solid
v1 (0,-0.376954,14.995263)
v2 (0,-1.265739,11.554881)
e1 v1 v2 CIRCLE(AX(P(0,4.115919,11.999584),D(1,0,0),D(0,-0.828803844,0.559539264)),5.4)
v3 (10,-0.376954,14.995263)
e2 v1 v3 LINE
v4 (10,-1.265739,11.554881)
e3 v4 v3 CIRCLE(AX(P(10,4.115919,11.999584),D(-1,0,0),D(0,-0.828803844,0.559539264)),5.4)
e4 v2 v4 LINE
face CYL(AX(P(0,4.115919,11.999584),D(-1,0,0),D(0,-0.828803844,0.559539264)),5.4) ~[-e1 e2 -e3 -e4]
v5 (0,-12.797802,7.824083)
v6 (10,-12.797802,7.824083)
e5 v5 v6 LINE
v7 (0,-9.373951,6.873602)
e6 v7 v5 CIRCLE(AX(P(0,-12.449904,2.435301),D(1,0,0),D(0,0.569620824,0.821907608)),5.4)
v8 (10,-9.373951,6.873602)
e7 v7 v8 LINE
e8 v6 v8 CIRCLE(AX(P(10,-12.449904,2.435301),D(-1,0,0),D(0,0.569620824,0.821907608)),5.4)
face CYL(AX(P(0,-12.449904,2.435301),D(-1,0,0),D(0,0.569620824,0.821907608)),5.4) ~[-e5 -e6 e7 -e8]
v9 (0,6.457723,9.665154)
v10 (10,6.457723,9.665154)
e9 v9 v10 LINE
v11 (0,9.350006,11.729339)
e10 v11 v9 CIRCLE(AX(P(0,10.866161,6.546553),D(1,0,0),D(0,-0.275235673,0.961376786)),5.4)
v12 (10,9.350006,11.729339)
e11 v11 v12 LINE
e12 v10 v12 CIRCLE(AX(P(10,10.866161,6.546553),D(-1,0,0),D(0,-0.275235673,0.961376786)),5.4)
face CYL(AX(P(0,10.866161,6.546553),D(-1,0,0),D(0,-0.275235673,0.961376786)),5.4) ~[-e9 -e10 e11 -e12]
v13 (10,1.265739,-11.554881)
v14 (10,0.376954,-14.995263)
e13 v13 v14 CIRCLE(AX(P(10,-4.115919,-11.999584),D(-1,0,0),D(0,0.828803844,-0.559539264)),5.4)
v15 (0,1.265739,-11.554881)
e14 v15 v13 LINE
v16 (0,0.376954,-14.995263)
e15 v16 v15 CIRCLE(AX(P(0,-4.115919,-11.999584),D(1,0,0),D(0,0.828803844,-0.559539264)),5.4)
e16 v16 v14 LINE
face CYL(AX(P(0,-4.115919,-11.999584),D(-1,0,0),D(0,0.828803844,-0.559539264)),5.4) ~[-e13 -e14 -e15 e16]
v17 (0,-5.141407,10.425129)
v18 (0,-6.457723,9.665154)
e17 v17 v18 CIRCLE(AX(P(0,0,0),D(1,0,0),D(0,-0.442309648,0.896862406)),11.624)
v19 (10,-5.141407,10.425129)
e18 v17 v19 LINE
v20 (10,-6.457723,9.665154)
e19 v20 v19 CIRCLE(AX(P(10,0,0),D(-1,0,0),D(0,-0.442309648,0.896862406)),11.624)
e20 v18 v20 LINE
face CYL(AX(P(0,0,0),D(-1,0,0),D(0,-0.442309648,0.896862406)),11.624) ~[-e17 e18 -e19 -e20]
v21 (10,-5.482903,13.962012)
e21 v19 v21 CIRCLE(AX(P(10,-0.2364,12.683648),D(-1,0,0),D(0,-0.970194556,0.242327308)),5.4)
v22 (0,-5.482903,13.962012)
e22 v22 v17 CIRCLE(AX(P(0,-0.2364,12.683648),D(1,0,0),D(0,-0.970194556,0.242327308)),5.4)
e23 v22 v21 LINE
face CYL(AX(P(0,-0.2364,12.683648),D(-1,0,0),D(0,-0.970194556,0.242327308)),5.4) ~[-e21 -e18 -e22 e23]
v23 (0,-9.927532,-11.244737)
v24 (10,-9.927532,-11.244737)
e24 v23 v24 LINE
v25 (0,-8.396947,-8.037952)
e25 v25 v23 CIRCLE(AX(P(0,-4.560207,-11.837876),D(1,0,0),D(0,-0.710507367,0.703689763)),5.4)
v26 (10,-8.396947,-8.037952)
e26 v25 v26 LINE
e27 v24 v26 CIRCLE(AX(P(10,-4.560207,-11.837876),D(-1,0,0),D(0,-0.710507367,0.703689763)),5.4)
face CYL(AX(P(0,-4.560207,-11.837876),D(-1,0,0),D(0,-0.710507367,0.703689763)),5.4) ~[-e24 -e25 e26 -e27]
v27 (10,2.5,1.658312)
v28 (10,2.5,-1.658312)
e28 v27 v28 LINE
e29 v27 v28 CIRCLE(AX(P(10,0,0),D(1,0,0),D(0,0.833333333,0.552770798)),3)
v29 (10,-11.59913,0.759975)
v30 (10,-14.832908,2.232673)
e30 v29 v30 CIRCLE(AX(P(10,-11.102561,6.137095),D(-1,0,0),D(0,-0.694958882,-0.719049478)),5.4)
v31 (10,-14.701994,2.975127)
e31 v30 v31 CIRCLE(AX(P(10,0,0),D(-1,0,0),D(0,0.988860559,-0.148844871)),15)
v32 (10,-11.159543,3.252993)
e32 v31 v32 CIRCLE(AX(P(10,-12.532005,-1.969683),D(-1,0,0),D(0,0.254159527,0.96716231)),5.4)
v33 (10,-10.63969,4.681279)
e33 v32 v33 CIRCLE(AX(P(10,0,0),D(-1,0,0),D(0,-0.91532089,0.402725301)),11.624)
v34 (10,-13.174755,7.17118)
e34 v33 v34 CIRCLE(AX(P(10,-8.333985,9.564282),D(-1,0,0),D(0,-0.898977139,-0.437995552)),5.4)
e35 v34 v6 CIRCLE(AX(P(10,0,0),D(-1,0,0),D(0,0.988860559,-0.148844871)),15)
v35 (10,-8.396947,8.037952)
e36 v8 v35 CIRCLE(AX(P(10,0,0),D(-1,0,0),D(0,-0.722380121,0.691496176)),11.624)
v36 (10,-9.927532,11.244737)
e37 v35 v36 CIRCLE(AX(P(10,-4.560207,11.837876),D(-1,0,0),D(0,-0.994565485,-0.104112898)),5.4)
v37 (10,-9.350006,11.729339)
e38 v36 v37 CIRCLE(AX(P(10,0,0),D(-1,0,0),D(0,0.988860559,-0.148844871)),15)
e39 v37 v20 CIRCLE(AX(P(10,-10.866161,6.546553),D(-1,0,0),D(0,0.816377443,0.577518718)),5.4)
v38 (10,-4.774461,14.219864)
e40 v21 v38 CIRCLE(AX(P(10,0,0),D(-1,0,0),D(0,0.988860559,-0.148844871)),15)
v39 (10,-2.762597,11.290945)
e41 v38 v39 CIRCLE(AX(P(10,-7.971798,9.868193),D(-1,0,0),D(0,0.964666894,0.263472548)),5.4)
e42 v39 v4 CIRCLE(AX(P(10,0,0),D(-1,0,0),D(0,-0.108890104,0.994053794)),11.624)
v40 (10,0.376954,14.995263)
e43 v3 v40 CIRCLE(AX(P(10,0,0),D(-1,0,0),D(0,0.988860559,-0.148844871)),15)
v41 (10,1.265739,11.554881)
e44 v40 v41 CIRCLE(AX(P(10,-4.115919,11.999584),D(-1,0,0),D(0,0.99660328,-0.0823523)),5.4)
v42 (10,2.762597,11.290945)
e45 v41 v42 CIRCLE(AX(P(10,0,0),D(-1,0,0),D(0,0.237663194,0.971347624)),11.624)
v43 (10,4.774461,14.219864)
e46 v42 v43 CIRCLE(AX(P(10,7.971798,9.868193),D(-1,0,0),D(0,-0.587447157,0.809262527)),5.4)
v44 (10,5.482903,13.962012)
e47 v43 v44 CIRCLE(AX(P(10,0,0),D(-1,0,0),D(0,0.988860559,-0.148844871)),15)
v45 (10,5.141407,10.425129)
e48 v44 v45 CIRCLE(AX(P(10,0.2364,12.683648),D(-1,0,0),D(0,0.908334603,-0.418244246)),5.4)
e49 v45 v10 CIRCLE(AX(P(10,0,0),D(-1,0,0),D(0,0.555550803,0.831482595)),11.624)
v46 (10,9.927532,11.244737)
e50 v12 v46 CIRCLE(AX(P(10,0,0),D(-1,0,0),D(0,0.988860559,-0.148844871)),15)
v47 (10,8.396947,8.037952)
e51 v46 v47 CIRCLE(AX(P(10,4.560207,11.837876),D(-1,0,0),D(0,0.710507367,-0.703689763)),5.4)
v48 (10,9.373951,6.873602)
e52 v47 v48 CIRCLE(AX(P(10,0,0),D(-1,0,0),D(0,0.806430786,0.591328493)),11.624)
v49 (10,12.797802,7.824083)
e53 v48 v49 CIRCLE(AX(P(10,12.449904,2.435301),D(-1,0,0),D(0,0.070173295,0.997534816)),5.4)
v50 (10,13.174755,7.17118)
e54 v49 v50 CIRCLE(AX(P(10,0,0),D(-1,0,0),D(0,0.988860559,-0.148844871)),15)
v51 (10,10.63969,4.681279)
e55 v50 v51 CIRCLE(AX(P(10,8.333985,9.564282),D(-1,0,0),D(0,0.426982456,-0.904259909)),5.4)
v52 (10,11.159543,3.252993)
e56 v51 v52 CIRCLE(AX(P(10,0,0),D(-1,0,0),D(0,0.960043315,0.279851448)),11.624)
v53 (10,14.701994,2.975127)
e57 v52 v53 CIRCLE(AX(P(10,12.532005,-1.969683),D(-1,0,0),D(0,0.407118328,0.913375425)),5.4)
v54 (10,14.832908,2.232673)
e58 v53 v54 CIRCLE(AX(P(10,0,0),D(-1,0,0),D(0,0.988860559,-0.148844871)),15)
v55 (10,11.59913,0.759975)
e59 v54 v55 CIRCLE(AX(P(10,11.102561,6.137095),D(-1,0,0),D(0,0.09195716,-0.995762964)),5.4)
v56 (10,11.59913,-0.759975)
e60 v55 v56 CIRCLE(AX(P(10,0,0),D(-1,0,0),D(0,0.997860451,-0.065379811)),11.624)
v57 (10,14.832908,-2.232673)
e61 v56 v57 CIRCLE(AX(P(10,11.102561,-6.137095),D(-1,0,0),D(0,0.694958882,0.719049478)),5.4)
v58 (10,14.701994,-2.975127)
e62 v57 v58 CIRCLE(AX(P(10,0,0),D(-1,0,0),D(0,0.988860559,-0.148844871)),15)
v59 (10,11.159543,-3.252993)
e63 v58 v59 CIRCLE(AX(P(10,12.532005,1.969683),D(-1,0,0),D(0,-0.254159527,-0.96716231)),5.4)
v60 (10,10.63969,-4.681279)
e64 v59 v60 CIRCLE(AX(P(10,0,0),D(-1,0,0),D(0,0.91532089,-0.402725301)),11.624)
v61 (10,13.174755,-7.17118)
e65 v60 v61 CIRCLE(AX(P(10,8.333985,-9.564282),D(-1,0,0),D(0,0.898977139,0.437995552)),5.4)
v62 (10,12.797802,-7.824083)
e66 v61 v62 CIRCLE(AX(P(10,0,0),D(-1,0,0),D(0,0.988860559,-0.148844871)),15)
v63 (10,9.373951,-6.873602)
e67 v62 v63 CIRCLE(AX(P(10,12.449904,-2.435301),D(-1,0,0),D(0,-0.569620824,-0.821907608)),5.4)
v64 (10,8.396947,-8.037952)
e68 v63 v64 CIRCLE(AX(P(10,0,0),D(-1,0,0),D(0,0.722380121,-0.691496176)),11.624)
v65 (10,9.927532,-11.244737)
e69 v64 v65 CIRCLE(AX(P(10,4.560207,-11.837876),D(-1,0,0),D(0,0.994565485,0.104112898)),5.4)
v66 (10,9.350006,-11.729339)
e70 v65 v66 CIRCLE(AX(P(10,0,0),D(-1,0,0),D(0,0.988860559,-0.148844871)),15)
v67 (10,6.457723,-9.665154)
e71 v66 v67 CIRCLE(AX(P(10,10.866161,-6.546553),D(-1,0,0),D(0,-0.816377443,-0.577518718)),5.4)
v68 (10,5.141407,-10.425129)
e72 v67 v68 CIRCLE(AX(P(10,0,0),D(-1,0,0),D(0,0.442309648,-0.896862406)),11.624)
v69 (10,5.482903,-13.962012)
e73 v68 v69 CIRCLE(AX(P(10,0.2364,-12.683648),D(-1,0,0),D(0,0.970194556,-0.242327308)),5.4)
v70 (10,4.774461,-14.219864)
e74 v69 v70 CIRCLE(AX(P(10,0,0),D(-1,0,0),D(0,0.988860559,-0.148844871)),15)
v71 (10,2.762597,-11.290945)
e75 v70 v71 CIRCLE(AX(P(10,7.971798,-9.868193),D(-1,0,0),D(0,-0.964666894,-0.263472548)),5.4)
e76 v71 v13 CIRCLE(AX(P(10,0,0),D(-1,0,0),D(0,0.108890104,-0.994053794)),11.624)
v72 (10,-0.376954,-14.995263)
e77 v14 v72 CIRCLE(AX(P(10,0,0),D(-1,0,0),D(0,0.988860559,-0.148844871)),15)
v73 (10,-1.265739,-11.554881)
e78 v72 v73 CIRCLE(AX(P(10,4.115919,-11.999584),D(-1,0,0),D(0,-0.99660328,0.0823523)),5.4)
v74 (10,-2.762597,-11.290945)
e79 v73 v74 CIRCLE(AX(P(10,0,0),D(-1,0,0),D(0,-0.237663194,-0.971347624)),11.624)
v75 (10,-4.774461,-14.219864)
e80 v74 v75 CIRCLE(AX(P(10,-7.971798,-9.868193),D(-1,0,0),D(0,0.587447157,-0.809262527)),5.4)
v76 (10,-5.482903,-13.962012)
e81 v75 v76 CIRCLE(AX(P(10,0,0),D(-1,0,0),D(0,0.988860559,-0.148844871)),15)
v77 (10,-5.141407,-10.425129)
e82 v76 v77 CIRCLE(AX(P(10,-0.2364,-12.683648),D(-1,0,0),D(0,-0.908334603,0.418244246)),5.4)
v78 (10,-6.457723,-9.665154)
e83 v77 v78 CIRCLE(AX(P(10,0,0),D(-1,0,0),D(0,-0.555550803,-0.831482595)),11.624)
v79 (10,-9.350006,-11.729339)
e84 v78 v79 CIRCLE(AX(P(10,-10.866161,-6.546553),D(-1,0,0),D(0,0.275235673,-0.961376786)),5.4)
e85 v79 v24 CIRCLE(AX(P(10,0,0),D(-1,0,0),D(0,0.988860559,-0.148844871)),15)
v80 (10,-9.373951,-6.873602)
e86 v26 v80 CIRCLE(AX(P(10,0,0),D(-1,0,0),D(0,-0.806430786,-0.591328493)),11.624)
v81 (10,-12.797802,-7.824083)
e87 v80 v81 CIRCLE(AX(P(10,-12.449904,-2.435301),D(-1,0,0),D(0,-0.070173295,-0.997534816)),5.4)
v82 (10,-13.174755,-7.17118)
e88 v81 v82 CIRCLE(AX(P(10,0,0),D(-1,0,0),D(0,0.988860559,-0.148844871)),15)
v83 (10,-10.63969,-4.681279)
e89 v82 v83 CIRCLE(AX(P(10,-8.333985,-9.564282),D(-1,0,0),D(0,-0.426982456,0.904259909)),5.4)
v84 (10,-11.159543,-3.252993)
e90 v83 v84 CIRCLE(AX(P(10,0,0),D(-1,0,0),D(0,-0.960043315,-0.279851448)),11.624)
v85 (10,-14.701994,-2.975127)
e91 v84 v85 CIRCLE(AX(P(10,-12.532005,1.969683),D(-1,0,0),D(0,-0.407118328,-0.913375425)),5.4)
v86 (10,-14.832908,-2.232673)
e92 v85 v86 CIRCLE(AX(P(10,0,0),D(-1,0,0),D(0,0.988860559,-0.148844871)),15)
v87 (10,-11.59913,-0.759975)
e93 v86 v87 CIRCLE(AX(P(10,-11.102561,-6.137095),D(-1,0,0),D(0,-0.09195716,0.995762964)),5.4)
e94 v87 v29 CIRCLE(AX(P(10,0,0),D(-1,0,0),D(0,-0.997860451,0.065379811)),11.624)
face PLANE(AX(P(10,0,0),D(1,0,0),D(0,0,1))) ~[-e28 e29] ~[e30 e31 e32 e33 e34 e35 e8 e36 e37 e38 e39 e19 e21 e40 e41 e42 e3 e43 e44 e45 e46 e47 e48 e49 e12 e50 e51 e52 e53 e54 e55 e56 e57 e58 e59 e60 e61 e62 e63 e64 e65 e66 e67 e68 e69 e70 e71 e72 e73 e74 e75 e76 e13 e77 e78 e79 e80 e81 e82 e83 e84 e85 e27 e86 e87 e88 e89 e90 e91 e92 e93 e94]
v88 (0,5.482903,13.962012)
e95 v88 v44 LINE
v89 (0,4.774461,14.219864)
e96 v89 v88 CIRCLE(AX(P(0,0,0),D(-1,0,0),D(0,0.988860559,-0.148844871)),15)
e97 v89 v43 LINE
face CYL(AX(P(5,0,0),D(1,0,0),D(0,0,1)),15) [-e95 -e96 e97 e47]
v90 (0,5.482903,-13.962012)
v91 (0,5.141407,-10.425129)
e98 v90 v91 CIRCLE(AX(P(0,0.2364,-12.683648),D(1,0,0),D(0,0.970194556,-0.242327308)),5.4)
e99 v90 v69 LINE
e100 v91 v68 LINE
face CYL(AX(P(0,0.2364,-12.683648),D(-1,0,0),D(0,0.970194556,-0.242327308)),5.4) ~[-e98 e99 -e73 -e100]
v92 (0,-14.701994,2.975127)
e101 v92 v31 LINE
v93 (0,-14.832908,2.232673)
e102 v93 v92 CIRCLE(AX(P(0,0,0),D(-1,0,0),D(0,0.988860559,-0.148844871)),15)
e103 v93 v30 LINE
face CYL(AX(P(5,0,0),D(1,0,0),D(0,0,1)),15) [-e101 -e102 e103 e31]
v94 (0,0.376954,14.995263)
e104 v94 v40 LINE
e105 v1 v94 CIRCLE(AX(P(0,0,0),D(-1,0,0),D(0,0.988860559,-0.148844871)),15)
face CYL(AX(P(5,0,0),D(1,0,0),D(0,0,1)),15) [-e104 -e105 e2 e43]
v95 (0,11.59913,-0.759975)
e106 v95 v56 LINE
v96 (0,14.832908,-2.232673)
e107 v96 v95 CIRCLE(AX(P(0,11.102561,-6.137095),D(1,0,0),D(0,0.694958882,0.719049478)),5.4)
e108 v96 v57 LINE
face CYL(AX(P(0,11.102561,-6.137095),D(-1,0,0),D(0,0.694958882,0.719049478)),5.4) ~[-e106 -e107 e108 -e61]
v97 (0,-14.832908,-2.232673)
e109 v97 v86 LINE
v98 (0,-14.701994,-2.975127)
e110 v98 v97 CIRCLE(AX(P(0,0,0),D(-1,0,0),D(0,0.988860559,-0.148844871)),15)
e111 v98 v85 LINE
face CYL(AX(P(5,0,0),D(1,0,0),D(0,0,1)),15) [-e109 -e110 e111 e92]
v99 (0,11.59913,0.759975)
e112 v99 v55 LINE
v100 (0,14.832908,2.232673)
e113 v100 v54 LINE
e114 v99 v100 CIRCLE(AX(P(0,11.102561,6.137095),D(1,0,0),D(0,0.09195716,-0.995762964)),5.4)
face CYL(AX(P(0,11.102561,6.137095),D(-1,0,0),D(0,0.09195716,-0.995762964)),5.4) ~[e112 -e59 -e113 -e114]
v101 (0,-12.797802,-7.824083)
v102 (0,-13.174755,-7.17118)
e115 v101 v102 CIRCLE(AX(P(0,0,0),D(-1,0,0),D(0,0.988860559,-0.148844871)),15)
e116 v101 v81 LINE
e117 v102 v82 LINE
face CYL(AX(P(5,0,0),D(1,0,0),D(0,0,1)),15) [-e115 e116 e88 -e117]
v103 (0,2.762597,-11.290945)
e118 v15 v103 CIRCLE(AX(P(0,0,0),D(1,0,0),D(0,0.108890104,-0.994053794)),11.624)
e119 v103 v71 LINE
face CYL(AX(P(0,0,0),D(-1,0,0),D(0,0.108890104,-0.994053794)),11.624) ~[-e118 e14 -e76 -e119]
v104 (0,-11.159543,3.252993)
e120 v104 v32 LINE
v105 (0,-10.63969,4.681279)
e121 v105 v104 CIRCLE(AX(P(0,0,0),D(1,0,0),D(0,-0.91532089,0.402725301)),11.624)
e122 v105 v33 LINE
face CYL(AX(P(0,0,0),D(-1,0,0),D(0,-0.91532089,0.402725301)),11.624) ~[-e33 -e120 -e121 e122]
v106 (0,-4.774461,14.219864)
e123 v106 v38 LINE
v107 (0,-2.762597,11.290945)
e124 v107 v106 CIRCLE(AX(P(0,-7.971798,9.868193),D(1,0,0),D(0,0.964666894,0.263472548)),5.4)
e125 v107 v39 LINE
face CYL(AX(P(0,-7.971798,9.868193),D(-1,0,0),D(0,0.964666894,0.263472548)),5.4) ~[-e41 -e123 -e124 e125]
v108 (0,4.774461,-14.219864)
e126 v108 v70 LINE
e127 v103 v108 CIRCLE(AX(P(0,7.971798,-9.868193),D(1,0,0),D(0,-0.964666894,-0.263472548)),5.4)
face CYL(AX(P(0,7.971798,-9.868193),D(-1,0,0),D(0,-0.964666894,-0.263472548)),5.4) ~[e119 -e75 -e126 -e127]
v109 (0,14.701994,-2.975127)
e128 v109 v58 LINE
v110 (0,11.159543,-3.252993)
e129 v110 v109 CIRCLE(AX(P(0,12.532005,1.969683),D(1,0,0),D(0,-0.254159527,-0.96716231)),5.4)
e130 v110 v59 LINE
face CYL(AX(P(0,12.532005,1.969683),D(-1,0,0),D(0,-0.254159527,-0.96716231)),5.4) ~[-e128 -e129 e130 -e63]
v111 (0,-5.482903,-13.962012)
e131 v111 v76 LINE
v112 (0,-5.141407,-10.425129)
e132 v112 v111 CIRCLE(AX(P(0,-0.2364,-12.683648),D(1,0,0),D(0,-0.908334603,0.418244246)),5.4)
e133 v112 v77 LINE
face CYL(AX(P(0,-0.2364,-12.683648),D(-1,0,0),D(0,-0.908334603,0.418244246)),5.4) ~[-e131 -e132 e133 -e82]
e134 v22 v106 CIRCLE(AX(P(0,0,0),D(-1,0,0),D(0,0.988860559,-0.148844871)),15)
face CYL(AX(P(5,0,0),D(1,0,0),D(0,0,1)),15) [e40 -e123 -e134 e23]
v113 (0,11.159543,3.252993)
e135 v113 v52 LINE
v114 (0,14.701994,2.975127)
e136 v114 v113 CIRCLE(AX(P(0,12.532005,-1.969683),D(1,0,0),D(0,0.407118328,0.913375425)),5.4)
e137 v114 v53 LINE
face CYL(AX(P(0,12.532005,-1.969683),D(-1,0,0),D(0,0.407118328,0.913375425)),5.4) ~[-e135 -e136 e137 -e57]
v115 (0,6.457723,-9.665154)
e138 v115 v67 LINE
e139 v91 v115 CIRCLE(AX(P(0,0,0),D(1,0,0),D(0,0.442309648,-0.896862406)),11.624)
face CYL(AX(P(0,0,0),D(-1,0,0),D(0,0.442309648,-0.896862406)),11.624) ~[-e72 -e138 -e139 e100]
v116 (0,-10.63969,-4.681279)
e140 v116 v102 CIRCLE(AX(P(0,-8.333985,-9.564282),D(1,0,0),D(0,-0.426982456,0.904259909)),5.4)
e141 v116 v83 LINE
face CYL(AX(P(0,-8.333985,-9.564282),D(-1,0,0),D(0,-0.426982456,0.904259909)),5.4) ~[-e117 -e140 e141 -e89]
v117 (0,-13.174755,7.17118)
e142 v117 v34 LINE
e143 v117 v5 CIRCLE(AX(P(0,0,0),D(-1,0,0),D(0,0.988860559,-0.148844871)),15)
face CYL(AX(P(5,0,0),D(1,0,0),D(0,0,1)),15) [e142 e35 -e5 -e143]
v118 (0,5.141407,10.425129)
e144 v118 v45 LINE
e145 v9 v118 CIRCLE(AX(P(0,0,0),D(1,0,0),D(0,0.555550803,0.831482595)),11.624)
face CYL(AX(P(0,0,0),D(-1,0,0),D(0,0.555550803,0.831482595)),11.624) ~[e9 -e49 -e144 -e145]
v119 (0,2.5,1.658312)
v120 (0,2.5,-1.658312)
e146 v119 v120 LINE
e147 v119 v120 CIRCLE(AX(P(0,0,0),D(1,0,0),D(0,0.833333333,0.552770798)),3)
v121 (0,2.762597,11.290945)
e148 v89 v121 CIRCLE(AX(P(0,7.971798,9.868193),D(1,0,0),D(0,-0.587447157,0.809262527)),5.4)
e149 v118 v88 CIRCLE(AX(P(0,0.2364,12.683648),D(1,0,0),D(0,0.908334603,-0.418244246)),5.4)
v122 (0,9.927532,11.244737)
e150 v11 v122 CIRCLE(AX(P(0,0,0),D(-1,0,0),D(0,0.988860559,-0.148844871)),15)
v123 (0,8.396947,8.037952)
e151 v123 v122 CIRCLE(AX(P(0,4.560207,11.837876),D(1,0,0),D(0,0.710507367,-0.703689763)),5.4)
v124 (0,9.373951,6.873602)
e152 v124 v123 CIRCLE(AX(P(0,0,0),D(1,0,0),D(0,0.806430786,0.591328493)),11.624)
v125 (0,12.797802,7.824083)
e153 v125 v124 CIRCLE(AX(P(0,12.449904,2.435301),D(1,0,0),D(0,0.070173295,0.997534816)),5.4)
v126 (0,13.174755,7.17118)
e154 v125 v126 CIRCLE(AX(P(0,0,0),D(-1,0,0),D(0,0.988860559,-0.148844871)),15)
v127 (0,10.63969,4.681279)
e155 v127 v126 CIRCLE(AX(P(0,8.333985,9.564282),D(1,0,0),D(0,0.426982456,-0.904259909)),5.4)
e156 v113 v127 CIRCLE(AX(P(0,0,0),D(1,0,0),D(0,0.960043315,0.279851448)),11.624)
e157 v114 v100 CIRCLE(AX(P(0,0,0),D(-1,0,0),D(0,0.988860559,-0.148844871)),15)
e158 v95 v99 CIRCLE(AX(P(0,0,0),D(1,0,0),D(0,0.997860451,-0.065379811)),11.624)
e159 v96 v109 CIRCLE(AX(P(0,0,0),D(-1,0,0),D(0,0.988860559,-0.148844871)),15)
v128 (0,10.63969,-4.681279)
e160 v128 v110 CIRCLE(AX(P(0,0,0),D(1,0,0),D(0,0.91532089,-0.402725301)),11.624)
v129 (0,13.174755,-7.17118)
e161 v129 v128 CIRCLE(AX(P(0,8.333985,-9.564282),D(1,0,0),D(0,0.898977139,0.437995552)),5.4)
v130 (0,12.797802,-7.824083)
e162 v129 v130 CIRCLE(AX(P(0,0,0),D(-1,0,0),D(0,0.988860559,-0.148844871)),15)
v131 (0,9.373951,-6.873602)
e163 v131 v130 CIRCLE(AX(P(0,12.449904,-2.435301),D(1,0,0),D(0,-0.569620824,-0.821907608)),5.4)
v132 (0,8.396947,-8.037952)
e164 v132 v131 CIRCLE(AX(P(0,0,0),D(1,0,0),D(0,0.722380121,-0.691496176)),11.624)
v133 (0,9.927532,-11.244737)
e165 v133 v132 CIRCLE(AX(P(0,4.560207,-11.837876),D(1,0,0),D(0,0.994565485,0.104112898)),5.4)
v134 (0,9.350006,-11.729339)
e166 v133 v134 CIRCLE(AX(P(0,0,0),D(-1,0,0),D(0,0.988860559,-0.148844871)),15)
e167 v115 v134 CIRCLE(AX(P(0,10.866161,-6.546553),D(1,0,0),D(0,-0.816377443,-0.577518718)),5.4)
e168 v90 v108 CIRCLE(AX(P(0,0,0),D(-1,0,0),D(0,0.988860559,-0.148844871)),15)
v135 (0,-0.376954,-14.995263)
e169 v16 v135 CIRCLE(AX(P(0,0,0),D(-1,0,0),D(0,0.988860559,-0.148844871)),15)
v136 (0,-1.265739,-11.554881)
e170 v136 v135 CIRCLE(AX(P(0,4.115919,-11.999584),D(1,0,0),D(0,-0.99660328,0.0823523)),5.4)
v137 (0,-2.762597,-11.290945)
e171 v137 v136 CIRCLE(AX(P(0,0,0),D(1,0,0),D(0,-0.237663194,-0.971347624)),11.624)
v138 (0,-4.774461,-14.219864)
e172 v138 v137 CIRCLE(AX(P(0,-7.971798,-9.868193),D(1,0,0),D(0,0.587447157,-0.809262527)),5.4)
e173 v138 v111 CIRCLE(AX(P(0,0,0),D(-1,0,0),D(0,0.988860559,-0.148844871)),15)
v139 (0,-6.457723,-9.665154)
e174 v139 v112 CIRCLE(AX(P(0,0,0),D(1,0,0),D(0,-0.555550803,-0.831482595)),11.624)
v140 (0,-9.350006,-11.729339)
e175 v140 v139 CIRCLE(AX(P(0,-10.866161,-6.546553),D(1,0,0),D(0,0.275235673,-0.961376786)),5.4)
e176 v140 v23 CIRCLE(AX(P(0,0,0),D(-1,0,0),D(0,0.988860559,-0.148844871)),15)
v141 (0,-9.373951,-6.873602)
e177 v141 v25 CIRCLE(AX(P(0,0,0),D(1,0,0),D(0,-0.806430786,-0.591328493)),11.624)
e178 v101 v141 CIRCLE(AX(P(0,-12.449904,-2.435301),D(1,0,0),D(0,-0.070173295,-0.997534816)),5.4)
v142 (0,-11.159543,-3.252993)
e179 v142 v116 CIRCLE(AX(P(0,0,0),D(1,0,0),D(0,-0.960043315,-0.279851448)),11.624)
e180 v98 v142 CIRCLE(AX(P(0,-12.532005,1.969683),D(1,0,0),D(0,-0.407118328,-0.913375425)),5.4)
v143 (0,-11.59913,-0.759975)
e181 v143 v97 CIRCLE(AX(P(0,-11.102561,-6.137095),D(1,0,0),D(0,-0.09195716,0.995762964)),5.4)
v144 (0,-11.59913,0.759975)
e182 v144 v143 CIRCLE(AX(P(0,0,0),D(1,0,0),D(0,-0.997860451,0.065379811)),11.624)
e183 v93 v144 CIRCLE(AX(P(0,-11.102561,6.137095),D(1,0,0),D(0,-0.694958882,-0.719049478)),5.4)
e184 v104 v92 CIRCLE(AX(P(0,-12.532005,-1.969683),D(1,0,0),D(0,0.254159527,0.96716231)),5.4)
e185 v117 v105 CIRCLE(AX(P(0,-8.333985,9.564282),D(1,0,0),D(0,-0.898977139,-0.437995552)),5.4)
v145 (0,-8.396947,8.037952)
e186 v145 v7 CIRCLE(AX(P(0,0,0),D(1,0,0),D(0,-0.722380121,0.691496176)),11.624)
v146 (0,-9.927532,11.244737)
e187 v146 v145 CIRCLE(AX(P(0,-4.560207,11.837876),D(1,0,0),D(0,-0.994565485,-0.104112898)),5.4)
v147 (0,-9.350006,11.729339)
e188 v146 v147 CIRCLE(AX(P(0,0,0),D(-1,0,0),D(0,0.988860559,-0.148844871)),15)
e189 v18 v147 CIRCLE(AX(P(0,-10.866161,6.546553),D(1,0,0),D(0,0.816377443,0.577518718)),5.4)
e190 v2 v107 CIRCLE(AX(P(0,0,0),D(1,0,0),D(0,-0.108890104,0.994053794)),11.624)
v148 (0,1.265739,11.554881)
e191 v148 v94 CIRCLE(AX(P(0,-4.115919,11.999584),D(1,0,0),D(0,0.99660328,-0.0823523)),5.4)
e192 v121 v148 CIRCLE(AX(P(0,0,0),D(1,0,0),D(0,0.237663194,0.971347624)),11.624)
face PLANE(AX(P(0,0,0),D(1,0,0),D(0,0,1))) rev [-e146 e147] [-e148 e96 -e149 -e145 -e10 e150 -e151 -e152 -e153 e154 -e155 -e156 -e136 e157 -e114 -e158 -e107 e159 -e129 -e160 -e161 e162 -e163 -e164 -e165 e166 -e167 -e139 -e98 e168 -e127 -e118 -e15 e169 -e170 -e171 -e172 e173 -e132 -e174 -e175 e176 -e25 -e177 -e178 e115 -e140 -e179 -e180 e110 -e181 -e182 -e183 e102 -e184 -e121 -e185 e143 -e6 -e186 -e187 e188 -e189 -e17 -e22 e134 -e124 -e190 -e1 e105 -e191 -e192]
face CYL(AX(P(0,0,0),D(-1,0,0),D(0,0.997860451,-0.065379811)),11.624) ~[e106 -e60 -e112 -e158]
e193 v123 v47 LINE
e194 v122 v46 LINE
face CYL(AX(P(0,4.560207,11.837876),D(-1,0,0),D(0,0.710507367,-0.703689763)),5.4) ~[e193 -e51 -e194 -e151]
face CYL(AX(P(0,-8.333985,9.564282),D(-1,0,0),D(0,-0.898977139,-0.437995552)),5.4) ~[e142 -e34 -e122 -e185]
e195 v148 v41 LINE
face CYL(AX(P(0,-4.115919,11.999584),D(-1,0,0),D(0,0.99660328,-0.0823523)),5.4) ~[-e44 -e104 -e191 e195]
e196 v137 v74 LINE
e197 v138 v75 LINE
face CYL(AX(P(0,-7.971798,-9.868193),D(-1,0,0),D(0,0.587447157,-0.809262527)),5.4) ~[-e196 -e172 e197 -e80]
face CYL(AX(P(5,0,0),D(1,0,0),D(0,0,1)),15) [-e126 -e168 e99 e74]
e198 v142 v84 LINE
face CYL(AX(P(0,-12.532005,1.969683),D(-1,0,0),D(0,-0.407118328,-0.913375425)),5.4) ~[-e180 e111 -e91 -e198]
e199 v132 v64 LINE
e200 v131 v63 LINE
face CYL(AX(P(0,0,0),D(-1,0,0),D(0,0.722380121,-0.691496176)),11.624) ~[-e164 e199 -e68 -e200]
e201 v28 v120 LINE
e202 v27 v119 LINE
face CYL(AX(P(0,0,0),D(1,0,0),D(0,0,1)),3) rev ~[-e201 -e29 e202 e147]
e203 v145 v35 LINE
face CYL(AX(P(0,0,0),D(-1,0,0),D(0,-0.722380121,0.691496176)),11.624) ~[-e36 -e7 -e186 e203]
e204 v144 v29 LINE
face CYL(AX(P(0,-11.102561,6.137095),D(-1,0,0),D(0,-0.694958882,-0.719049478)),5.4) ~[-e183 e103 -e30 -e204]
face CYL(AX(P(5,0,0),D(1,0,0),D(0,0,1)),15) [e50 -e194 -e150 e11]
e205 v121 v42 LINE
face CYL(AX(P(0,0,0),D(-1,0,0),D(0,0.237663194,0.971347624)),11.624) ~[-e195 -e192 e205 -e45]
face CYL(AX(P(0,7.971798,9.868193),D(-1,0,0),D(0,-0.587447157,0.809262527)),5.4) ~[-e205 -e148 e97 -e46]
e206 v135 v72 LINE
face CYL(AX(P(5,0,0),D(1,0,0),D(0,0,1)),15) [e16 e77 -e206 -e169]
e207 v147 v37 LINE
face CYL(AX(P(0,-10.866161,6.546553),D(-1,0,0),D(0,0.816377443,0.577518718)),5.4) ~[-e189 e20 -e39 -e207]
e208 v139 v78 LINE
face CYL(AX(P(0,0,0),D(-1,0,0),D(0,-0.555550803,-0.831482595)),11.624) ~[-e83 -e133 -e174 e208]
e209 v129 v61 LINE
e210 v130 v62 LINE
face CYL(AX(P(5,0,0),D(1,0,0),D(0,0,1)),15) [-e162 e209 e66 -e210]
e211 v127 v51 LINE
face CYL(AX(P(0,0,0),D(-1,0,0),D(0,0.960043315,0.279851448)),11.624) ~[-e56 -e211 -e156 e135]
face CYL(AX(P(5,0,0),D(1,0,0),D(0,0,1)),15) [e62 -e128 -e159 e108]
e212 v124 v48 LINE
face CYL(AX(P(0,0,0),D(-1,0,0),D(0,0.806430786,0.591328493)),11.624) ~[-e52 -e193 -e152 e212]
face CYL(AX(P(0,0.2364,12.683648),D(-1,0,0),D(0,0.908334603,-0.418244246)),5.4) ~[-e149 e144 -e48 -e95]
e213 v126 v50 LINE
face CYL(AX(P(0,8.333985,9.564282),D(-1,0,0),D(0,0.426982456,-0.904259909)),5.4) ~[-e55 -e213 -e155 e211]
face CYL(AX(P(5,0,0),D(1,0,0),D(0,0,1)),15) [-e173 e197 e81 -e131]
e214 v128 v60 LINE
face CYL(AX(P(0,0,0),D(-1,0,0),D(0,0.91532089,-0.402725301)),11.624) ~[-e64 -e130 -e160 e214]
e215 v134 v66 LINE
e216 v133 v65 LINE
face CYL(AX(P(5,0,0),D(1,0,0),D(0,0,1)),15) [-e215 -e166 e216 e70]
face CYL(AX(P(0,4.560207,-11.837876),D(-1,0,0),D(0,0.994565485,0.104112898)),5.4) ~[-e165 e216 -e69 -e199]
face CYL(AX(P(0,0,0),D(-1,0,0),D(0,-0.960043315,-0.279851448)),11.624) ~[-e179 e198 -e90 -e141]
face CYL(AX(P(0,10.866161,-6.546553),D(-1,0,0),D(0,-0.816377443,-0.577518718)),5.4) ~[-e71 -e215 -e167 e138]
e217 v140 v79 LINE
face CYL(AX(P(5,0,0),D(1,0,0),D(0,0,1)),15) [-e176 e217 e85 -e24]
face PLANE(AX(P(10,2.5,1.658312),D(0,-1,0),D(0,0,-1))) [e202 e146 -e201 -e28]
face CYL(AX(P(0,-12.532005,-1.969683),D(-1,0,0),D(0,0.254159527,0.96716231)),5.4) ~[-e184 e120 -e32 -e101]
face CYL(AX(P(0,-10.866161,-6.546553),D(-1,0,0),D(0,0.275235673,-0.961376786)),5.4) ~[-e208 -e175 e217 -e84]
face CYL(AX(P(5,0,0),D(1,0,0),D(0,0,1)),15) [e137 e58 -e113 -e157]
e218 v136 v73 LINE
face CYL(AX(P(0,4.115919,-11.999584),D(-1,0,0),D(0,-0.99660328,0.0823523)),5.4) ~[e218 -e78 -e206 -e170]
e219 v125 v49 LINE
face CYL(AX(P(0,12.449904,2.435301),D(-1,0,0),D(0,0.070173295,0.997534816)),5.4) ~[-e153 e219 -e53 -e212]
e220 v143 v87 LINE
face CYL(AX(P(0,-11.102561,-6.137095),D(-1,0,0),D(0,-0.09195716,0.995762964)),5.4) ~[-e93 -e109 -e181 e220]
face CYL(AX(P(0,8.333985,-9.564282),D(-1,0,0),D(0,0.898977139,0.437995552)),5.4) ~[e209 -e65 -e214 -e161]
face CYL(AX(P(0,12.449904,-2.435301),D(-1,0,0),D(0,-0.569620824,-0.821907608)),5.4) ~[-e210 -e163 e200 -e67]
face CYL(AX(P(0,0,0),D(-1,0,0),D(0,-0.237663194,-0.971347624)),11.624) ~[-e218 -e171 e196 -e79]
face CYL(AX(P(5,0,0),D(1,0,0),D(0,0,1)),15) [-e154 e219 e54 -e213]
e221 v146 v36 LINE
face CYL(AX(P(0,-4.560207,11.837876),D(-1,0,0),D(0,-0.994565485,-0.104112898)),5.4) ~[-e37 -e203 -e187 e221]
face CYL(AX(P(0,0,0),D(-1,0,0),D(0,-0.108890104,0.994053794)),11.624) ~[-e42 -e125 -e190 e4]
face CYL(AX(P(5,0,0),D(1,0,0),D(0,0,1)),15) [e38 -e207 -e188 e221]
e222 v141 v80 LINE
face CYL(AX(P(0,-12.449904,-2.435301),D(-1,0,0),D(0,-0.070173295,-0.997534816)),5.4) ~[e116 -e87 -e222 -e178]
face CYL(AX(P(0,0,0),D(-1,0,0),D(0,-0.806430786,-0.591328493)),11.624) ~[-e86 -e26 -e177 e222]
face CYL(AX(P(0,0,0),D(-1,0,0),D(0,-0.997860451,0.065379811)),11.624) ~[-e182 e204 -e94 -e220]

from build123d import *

# Parameters (mm, degrees)
BASPROSKE_W         = 10
BASPROSKE_H         = 15
TOOTHCUT_DEPTH      = 24.452078799
TEETHCUTS_COUNT     = 18
TEETHCUTS_ANGLE     = 340
BORSKE_R            = 3
BORE_DEPTH          = 50.0000508
BOSS_EXTRUDE1_DEPTH = 10


with BuildPart() as part:
    # BasProSke → Base-Revolve (revolve)
    with BuildSketch(Plane(origin=(0, 0, 0), x_dir=(1, 0, 0), z_dir=(0, 1, 0)), mode=Mode.PRIVATE) as base_revolve_sk:
        with Locations((5, 7.5)):
            Rectangle(BASPROSKE_W, BASPROSKE_H)
    revolve(base_revolve_sk.sketch.rotate(Axis((-10, 0, 0), (1, 0, 0)), 180), axis=Axis((-10, 0, 0), (1, 0, 0)))

    # TooCutSke → ToothCut (cut, through all)
    with BuildSketch(Plane(origin=(0, 0, 0), x_dir=(0, 0, -1), z_dir=(1, 0, 0))):
        with BuildLine():
            ThreePointArc((0.759974923, 11.599129886), (0, 11.624), (-0.759974923, 11.599129886))
            ThreePointArc((-0.759974923, 11.599129886), (-1.229186471, 13.354767823), (-2.254227748, 14.855339189))
            ThreePointArc((-2.254227748, 14.855339189), (0, 15.0254), (2.254227748, 14.855339189))
            ThreePointArc((2.254227748, 14.855339189), (1.229186471, 13.354767823), (0.759974923, 11.599129886))
        make_face()
    toothcut = extrude(amount=TOOTHCUT_DEPTH, mode=Mode.SUBTRACT)

    # TeethCuts: ToothCut ×18 about axis
    teethcuts_axis = Axis((-10, 0, 0), (1, 0, 0))
    for i in range(1, TEETHCUTS_COUNT):
        add(toothcut.rotate(teethcuts_axis, i * TEETHCUTS_ANGLE / (TEETHCUTS_COUNT - 1)), mode=Mode.SUBTRACT)

    # BorSke → Bore (cut, symmetric)
    with BuildSketch(Plane(origin=(0, 0, 0), x_dir=(0, 0, -1), z_dir=(1, 0, 0))):
        with Locations(Location((0, 0, 0), (0, 0, 180))):
            Circle(BORSKE_R)
    extrude(amount=BORE_DEPTH, both=True, mode=Mode.SUBTRACT)

    # Sketch1 → Boss-Extrude1 (add)
    with BuildSketch(Plane(origin=(10, 0, 0), x_dir=(0, 0, -1), z_dir=(1, 0, 0))):
        with BuildLine():
            ThreePointArc((1.658312395, 2.5), (0, 3), (-1.658312395, 2.5))
            Line((-1.658312395, 2.5), (1.658312395, 2.5))
        make_face()
    extrude(amount=-BOSS_EXTRUDE1_DEPTH)


solid = part.part
